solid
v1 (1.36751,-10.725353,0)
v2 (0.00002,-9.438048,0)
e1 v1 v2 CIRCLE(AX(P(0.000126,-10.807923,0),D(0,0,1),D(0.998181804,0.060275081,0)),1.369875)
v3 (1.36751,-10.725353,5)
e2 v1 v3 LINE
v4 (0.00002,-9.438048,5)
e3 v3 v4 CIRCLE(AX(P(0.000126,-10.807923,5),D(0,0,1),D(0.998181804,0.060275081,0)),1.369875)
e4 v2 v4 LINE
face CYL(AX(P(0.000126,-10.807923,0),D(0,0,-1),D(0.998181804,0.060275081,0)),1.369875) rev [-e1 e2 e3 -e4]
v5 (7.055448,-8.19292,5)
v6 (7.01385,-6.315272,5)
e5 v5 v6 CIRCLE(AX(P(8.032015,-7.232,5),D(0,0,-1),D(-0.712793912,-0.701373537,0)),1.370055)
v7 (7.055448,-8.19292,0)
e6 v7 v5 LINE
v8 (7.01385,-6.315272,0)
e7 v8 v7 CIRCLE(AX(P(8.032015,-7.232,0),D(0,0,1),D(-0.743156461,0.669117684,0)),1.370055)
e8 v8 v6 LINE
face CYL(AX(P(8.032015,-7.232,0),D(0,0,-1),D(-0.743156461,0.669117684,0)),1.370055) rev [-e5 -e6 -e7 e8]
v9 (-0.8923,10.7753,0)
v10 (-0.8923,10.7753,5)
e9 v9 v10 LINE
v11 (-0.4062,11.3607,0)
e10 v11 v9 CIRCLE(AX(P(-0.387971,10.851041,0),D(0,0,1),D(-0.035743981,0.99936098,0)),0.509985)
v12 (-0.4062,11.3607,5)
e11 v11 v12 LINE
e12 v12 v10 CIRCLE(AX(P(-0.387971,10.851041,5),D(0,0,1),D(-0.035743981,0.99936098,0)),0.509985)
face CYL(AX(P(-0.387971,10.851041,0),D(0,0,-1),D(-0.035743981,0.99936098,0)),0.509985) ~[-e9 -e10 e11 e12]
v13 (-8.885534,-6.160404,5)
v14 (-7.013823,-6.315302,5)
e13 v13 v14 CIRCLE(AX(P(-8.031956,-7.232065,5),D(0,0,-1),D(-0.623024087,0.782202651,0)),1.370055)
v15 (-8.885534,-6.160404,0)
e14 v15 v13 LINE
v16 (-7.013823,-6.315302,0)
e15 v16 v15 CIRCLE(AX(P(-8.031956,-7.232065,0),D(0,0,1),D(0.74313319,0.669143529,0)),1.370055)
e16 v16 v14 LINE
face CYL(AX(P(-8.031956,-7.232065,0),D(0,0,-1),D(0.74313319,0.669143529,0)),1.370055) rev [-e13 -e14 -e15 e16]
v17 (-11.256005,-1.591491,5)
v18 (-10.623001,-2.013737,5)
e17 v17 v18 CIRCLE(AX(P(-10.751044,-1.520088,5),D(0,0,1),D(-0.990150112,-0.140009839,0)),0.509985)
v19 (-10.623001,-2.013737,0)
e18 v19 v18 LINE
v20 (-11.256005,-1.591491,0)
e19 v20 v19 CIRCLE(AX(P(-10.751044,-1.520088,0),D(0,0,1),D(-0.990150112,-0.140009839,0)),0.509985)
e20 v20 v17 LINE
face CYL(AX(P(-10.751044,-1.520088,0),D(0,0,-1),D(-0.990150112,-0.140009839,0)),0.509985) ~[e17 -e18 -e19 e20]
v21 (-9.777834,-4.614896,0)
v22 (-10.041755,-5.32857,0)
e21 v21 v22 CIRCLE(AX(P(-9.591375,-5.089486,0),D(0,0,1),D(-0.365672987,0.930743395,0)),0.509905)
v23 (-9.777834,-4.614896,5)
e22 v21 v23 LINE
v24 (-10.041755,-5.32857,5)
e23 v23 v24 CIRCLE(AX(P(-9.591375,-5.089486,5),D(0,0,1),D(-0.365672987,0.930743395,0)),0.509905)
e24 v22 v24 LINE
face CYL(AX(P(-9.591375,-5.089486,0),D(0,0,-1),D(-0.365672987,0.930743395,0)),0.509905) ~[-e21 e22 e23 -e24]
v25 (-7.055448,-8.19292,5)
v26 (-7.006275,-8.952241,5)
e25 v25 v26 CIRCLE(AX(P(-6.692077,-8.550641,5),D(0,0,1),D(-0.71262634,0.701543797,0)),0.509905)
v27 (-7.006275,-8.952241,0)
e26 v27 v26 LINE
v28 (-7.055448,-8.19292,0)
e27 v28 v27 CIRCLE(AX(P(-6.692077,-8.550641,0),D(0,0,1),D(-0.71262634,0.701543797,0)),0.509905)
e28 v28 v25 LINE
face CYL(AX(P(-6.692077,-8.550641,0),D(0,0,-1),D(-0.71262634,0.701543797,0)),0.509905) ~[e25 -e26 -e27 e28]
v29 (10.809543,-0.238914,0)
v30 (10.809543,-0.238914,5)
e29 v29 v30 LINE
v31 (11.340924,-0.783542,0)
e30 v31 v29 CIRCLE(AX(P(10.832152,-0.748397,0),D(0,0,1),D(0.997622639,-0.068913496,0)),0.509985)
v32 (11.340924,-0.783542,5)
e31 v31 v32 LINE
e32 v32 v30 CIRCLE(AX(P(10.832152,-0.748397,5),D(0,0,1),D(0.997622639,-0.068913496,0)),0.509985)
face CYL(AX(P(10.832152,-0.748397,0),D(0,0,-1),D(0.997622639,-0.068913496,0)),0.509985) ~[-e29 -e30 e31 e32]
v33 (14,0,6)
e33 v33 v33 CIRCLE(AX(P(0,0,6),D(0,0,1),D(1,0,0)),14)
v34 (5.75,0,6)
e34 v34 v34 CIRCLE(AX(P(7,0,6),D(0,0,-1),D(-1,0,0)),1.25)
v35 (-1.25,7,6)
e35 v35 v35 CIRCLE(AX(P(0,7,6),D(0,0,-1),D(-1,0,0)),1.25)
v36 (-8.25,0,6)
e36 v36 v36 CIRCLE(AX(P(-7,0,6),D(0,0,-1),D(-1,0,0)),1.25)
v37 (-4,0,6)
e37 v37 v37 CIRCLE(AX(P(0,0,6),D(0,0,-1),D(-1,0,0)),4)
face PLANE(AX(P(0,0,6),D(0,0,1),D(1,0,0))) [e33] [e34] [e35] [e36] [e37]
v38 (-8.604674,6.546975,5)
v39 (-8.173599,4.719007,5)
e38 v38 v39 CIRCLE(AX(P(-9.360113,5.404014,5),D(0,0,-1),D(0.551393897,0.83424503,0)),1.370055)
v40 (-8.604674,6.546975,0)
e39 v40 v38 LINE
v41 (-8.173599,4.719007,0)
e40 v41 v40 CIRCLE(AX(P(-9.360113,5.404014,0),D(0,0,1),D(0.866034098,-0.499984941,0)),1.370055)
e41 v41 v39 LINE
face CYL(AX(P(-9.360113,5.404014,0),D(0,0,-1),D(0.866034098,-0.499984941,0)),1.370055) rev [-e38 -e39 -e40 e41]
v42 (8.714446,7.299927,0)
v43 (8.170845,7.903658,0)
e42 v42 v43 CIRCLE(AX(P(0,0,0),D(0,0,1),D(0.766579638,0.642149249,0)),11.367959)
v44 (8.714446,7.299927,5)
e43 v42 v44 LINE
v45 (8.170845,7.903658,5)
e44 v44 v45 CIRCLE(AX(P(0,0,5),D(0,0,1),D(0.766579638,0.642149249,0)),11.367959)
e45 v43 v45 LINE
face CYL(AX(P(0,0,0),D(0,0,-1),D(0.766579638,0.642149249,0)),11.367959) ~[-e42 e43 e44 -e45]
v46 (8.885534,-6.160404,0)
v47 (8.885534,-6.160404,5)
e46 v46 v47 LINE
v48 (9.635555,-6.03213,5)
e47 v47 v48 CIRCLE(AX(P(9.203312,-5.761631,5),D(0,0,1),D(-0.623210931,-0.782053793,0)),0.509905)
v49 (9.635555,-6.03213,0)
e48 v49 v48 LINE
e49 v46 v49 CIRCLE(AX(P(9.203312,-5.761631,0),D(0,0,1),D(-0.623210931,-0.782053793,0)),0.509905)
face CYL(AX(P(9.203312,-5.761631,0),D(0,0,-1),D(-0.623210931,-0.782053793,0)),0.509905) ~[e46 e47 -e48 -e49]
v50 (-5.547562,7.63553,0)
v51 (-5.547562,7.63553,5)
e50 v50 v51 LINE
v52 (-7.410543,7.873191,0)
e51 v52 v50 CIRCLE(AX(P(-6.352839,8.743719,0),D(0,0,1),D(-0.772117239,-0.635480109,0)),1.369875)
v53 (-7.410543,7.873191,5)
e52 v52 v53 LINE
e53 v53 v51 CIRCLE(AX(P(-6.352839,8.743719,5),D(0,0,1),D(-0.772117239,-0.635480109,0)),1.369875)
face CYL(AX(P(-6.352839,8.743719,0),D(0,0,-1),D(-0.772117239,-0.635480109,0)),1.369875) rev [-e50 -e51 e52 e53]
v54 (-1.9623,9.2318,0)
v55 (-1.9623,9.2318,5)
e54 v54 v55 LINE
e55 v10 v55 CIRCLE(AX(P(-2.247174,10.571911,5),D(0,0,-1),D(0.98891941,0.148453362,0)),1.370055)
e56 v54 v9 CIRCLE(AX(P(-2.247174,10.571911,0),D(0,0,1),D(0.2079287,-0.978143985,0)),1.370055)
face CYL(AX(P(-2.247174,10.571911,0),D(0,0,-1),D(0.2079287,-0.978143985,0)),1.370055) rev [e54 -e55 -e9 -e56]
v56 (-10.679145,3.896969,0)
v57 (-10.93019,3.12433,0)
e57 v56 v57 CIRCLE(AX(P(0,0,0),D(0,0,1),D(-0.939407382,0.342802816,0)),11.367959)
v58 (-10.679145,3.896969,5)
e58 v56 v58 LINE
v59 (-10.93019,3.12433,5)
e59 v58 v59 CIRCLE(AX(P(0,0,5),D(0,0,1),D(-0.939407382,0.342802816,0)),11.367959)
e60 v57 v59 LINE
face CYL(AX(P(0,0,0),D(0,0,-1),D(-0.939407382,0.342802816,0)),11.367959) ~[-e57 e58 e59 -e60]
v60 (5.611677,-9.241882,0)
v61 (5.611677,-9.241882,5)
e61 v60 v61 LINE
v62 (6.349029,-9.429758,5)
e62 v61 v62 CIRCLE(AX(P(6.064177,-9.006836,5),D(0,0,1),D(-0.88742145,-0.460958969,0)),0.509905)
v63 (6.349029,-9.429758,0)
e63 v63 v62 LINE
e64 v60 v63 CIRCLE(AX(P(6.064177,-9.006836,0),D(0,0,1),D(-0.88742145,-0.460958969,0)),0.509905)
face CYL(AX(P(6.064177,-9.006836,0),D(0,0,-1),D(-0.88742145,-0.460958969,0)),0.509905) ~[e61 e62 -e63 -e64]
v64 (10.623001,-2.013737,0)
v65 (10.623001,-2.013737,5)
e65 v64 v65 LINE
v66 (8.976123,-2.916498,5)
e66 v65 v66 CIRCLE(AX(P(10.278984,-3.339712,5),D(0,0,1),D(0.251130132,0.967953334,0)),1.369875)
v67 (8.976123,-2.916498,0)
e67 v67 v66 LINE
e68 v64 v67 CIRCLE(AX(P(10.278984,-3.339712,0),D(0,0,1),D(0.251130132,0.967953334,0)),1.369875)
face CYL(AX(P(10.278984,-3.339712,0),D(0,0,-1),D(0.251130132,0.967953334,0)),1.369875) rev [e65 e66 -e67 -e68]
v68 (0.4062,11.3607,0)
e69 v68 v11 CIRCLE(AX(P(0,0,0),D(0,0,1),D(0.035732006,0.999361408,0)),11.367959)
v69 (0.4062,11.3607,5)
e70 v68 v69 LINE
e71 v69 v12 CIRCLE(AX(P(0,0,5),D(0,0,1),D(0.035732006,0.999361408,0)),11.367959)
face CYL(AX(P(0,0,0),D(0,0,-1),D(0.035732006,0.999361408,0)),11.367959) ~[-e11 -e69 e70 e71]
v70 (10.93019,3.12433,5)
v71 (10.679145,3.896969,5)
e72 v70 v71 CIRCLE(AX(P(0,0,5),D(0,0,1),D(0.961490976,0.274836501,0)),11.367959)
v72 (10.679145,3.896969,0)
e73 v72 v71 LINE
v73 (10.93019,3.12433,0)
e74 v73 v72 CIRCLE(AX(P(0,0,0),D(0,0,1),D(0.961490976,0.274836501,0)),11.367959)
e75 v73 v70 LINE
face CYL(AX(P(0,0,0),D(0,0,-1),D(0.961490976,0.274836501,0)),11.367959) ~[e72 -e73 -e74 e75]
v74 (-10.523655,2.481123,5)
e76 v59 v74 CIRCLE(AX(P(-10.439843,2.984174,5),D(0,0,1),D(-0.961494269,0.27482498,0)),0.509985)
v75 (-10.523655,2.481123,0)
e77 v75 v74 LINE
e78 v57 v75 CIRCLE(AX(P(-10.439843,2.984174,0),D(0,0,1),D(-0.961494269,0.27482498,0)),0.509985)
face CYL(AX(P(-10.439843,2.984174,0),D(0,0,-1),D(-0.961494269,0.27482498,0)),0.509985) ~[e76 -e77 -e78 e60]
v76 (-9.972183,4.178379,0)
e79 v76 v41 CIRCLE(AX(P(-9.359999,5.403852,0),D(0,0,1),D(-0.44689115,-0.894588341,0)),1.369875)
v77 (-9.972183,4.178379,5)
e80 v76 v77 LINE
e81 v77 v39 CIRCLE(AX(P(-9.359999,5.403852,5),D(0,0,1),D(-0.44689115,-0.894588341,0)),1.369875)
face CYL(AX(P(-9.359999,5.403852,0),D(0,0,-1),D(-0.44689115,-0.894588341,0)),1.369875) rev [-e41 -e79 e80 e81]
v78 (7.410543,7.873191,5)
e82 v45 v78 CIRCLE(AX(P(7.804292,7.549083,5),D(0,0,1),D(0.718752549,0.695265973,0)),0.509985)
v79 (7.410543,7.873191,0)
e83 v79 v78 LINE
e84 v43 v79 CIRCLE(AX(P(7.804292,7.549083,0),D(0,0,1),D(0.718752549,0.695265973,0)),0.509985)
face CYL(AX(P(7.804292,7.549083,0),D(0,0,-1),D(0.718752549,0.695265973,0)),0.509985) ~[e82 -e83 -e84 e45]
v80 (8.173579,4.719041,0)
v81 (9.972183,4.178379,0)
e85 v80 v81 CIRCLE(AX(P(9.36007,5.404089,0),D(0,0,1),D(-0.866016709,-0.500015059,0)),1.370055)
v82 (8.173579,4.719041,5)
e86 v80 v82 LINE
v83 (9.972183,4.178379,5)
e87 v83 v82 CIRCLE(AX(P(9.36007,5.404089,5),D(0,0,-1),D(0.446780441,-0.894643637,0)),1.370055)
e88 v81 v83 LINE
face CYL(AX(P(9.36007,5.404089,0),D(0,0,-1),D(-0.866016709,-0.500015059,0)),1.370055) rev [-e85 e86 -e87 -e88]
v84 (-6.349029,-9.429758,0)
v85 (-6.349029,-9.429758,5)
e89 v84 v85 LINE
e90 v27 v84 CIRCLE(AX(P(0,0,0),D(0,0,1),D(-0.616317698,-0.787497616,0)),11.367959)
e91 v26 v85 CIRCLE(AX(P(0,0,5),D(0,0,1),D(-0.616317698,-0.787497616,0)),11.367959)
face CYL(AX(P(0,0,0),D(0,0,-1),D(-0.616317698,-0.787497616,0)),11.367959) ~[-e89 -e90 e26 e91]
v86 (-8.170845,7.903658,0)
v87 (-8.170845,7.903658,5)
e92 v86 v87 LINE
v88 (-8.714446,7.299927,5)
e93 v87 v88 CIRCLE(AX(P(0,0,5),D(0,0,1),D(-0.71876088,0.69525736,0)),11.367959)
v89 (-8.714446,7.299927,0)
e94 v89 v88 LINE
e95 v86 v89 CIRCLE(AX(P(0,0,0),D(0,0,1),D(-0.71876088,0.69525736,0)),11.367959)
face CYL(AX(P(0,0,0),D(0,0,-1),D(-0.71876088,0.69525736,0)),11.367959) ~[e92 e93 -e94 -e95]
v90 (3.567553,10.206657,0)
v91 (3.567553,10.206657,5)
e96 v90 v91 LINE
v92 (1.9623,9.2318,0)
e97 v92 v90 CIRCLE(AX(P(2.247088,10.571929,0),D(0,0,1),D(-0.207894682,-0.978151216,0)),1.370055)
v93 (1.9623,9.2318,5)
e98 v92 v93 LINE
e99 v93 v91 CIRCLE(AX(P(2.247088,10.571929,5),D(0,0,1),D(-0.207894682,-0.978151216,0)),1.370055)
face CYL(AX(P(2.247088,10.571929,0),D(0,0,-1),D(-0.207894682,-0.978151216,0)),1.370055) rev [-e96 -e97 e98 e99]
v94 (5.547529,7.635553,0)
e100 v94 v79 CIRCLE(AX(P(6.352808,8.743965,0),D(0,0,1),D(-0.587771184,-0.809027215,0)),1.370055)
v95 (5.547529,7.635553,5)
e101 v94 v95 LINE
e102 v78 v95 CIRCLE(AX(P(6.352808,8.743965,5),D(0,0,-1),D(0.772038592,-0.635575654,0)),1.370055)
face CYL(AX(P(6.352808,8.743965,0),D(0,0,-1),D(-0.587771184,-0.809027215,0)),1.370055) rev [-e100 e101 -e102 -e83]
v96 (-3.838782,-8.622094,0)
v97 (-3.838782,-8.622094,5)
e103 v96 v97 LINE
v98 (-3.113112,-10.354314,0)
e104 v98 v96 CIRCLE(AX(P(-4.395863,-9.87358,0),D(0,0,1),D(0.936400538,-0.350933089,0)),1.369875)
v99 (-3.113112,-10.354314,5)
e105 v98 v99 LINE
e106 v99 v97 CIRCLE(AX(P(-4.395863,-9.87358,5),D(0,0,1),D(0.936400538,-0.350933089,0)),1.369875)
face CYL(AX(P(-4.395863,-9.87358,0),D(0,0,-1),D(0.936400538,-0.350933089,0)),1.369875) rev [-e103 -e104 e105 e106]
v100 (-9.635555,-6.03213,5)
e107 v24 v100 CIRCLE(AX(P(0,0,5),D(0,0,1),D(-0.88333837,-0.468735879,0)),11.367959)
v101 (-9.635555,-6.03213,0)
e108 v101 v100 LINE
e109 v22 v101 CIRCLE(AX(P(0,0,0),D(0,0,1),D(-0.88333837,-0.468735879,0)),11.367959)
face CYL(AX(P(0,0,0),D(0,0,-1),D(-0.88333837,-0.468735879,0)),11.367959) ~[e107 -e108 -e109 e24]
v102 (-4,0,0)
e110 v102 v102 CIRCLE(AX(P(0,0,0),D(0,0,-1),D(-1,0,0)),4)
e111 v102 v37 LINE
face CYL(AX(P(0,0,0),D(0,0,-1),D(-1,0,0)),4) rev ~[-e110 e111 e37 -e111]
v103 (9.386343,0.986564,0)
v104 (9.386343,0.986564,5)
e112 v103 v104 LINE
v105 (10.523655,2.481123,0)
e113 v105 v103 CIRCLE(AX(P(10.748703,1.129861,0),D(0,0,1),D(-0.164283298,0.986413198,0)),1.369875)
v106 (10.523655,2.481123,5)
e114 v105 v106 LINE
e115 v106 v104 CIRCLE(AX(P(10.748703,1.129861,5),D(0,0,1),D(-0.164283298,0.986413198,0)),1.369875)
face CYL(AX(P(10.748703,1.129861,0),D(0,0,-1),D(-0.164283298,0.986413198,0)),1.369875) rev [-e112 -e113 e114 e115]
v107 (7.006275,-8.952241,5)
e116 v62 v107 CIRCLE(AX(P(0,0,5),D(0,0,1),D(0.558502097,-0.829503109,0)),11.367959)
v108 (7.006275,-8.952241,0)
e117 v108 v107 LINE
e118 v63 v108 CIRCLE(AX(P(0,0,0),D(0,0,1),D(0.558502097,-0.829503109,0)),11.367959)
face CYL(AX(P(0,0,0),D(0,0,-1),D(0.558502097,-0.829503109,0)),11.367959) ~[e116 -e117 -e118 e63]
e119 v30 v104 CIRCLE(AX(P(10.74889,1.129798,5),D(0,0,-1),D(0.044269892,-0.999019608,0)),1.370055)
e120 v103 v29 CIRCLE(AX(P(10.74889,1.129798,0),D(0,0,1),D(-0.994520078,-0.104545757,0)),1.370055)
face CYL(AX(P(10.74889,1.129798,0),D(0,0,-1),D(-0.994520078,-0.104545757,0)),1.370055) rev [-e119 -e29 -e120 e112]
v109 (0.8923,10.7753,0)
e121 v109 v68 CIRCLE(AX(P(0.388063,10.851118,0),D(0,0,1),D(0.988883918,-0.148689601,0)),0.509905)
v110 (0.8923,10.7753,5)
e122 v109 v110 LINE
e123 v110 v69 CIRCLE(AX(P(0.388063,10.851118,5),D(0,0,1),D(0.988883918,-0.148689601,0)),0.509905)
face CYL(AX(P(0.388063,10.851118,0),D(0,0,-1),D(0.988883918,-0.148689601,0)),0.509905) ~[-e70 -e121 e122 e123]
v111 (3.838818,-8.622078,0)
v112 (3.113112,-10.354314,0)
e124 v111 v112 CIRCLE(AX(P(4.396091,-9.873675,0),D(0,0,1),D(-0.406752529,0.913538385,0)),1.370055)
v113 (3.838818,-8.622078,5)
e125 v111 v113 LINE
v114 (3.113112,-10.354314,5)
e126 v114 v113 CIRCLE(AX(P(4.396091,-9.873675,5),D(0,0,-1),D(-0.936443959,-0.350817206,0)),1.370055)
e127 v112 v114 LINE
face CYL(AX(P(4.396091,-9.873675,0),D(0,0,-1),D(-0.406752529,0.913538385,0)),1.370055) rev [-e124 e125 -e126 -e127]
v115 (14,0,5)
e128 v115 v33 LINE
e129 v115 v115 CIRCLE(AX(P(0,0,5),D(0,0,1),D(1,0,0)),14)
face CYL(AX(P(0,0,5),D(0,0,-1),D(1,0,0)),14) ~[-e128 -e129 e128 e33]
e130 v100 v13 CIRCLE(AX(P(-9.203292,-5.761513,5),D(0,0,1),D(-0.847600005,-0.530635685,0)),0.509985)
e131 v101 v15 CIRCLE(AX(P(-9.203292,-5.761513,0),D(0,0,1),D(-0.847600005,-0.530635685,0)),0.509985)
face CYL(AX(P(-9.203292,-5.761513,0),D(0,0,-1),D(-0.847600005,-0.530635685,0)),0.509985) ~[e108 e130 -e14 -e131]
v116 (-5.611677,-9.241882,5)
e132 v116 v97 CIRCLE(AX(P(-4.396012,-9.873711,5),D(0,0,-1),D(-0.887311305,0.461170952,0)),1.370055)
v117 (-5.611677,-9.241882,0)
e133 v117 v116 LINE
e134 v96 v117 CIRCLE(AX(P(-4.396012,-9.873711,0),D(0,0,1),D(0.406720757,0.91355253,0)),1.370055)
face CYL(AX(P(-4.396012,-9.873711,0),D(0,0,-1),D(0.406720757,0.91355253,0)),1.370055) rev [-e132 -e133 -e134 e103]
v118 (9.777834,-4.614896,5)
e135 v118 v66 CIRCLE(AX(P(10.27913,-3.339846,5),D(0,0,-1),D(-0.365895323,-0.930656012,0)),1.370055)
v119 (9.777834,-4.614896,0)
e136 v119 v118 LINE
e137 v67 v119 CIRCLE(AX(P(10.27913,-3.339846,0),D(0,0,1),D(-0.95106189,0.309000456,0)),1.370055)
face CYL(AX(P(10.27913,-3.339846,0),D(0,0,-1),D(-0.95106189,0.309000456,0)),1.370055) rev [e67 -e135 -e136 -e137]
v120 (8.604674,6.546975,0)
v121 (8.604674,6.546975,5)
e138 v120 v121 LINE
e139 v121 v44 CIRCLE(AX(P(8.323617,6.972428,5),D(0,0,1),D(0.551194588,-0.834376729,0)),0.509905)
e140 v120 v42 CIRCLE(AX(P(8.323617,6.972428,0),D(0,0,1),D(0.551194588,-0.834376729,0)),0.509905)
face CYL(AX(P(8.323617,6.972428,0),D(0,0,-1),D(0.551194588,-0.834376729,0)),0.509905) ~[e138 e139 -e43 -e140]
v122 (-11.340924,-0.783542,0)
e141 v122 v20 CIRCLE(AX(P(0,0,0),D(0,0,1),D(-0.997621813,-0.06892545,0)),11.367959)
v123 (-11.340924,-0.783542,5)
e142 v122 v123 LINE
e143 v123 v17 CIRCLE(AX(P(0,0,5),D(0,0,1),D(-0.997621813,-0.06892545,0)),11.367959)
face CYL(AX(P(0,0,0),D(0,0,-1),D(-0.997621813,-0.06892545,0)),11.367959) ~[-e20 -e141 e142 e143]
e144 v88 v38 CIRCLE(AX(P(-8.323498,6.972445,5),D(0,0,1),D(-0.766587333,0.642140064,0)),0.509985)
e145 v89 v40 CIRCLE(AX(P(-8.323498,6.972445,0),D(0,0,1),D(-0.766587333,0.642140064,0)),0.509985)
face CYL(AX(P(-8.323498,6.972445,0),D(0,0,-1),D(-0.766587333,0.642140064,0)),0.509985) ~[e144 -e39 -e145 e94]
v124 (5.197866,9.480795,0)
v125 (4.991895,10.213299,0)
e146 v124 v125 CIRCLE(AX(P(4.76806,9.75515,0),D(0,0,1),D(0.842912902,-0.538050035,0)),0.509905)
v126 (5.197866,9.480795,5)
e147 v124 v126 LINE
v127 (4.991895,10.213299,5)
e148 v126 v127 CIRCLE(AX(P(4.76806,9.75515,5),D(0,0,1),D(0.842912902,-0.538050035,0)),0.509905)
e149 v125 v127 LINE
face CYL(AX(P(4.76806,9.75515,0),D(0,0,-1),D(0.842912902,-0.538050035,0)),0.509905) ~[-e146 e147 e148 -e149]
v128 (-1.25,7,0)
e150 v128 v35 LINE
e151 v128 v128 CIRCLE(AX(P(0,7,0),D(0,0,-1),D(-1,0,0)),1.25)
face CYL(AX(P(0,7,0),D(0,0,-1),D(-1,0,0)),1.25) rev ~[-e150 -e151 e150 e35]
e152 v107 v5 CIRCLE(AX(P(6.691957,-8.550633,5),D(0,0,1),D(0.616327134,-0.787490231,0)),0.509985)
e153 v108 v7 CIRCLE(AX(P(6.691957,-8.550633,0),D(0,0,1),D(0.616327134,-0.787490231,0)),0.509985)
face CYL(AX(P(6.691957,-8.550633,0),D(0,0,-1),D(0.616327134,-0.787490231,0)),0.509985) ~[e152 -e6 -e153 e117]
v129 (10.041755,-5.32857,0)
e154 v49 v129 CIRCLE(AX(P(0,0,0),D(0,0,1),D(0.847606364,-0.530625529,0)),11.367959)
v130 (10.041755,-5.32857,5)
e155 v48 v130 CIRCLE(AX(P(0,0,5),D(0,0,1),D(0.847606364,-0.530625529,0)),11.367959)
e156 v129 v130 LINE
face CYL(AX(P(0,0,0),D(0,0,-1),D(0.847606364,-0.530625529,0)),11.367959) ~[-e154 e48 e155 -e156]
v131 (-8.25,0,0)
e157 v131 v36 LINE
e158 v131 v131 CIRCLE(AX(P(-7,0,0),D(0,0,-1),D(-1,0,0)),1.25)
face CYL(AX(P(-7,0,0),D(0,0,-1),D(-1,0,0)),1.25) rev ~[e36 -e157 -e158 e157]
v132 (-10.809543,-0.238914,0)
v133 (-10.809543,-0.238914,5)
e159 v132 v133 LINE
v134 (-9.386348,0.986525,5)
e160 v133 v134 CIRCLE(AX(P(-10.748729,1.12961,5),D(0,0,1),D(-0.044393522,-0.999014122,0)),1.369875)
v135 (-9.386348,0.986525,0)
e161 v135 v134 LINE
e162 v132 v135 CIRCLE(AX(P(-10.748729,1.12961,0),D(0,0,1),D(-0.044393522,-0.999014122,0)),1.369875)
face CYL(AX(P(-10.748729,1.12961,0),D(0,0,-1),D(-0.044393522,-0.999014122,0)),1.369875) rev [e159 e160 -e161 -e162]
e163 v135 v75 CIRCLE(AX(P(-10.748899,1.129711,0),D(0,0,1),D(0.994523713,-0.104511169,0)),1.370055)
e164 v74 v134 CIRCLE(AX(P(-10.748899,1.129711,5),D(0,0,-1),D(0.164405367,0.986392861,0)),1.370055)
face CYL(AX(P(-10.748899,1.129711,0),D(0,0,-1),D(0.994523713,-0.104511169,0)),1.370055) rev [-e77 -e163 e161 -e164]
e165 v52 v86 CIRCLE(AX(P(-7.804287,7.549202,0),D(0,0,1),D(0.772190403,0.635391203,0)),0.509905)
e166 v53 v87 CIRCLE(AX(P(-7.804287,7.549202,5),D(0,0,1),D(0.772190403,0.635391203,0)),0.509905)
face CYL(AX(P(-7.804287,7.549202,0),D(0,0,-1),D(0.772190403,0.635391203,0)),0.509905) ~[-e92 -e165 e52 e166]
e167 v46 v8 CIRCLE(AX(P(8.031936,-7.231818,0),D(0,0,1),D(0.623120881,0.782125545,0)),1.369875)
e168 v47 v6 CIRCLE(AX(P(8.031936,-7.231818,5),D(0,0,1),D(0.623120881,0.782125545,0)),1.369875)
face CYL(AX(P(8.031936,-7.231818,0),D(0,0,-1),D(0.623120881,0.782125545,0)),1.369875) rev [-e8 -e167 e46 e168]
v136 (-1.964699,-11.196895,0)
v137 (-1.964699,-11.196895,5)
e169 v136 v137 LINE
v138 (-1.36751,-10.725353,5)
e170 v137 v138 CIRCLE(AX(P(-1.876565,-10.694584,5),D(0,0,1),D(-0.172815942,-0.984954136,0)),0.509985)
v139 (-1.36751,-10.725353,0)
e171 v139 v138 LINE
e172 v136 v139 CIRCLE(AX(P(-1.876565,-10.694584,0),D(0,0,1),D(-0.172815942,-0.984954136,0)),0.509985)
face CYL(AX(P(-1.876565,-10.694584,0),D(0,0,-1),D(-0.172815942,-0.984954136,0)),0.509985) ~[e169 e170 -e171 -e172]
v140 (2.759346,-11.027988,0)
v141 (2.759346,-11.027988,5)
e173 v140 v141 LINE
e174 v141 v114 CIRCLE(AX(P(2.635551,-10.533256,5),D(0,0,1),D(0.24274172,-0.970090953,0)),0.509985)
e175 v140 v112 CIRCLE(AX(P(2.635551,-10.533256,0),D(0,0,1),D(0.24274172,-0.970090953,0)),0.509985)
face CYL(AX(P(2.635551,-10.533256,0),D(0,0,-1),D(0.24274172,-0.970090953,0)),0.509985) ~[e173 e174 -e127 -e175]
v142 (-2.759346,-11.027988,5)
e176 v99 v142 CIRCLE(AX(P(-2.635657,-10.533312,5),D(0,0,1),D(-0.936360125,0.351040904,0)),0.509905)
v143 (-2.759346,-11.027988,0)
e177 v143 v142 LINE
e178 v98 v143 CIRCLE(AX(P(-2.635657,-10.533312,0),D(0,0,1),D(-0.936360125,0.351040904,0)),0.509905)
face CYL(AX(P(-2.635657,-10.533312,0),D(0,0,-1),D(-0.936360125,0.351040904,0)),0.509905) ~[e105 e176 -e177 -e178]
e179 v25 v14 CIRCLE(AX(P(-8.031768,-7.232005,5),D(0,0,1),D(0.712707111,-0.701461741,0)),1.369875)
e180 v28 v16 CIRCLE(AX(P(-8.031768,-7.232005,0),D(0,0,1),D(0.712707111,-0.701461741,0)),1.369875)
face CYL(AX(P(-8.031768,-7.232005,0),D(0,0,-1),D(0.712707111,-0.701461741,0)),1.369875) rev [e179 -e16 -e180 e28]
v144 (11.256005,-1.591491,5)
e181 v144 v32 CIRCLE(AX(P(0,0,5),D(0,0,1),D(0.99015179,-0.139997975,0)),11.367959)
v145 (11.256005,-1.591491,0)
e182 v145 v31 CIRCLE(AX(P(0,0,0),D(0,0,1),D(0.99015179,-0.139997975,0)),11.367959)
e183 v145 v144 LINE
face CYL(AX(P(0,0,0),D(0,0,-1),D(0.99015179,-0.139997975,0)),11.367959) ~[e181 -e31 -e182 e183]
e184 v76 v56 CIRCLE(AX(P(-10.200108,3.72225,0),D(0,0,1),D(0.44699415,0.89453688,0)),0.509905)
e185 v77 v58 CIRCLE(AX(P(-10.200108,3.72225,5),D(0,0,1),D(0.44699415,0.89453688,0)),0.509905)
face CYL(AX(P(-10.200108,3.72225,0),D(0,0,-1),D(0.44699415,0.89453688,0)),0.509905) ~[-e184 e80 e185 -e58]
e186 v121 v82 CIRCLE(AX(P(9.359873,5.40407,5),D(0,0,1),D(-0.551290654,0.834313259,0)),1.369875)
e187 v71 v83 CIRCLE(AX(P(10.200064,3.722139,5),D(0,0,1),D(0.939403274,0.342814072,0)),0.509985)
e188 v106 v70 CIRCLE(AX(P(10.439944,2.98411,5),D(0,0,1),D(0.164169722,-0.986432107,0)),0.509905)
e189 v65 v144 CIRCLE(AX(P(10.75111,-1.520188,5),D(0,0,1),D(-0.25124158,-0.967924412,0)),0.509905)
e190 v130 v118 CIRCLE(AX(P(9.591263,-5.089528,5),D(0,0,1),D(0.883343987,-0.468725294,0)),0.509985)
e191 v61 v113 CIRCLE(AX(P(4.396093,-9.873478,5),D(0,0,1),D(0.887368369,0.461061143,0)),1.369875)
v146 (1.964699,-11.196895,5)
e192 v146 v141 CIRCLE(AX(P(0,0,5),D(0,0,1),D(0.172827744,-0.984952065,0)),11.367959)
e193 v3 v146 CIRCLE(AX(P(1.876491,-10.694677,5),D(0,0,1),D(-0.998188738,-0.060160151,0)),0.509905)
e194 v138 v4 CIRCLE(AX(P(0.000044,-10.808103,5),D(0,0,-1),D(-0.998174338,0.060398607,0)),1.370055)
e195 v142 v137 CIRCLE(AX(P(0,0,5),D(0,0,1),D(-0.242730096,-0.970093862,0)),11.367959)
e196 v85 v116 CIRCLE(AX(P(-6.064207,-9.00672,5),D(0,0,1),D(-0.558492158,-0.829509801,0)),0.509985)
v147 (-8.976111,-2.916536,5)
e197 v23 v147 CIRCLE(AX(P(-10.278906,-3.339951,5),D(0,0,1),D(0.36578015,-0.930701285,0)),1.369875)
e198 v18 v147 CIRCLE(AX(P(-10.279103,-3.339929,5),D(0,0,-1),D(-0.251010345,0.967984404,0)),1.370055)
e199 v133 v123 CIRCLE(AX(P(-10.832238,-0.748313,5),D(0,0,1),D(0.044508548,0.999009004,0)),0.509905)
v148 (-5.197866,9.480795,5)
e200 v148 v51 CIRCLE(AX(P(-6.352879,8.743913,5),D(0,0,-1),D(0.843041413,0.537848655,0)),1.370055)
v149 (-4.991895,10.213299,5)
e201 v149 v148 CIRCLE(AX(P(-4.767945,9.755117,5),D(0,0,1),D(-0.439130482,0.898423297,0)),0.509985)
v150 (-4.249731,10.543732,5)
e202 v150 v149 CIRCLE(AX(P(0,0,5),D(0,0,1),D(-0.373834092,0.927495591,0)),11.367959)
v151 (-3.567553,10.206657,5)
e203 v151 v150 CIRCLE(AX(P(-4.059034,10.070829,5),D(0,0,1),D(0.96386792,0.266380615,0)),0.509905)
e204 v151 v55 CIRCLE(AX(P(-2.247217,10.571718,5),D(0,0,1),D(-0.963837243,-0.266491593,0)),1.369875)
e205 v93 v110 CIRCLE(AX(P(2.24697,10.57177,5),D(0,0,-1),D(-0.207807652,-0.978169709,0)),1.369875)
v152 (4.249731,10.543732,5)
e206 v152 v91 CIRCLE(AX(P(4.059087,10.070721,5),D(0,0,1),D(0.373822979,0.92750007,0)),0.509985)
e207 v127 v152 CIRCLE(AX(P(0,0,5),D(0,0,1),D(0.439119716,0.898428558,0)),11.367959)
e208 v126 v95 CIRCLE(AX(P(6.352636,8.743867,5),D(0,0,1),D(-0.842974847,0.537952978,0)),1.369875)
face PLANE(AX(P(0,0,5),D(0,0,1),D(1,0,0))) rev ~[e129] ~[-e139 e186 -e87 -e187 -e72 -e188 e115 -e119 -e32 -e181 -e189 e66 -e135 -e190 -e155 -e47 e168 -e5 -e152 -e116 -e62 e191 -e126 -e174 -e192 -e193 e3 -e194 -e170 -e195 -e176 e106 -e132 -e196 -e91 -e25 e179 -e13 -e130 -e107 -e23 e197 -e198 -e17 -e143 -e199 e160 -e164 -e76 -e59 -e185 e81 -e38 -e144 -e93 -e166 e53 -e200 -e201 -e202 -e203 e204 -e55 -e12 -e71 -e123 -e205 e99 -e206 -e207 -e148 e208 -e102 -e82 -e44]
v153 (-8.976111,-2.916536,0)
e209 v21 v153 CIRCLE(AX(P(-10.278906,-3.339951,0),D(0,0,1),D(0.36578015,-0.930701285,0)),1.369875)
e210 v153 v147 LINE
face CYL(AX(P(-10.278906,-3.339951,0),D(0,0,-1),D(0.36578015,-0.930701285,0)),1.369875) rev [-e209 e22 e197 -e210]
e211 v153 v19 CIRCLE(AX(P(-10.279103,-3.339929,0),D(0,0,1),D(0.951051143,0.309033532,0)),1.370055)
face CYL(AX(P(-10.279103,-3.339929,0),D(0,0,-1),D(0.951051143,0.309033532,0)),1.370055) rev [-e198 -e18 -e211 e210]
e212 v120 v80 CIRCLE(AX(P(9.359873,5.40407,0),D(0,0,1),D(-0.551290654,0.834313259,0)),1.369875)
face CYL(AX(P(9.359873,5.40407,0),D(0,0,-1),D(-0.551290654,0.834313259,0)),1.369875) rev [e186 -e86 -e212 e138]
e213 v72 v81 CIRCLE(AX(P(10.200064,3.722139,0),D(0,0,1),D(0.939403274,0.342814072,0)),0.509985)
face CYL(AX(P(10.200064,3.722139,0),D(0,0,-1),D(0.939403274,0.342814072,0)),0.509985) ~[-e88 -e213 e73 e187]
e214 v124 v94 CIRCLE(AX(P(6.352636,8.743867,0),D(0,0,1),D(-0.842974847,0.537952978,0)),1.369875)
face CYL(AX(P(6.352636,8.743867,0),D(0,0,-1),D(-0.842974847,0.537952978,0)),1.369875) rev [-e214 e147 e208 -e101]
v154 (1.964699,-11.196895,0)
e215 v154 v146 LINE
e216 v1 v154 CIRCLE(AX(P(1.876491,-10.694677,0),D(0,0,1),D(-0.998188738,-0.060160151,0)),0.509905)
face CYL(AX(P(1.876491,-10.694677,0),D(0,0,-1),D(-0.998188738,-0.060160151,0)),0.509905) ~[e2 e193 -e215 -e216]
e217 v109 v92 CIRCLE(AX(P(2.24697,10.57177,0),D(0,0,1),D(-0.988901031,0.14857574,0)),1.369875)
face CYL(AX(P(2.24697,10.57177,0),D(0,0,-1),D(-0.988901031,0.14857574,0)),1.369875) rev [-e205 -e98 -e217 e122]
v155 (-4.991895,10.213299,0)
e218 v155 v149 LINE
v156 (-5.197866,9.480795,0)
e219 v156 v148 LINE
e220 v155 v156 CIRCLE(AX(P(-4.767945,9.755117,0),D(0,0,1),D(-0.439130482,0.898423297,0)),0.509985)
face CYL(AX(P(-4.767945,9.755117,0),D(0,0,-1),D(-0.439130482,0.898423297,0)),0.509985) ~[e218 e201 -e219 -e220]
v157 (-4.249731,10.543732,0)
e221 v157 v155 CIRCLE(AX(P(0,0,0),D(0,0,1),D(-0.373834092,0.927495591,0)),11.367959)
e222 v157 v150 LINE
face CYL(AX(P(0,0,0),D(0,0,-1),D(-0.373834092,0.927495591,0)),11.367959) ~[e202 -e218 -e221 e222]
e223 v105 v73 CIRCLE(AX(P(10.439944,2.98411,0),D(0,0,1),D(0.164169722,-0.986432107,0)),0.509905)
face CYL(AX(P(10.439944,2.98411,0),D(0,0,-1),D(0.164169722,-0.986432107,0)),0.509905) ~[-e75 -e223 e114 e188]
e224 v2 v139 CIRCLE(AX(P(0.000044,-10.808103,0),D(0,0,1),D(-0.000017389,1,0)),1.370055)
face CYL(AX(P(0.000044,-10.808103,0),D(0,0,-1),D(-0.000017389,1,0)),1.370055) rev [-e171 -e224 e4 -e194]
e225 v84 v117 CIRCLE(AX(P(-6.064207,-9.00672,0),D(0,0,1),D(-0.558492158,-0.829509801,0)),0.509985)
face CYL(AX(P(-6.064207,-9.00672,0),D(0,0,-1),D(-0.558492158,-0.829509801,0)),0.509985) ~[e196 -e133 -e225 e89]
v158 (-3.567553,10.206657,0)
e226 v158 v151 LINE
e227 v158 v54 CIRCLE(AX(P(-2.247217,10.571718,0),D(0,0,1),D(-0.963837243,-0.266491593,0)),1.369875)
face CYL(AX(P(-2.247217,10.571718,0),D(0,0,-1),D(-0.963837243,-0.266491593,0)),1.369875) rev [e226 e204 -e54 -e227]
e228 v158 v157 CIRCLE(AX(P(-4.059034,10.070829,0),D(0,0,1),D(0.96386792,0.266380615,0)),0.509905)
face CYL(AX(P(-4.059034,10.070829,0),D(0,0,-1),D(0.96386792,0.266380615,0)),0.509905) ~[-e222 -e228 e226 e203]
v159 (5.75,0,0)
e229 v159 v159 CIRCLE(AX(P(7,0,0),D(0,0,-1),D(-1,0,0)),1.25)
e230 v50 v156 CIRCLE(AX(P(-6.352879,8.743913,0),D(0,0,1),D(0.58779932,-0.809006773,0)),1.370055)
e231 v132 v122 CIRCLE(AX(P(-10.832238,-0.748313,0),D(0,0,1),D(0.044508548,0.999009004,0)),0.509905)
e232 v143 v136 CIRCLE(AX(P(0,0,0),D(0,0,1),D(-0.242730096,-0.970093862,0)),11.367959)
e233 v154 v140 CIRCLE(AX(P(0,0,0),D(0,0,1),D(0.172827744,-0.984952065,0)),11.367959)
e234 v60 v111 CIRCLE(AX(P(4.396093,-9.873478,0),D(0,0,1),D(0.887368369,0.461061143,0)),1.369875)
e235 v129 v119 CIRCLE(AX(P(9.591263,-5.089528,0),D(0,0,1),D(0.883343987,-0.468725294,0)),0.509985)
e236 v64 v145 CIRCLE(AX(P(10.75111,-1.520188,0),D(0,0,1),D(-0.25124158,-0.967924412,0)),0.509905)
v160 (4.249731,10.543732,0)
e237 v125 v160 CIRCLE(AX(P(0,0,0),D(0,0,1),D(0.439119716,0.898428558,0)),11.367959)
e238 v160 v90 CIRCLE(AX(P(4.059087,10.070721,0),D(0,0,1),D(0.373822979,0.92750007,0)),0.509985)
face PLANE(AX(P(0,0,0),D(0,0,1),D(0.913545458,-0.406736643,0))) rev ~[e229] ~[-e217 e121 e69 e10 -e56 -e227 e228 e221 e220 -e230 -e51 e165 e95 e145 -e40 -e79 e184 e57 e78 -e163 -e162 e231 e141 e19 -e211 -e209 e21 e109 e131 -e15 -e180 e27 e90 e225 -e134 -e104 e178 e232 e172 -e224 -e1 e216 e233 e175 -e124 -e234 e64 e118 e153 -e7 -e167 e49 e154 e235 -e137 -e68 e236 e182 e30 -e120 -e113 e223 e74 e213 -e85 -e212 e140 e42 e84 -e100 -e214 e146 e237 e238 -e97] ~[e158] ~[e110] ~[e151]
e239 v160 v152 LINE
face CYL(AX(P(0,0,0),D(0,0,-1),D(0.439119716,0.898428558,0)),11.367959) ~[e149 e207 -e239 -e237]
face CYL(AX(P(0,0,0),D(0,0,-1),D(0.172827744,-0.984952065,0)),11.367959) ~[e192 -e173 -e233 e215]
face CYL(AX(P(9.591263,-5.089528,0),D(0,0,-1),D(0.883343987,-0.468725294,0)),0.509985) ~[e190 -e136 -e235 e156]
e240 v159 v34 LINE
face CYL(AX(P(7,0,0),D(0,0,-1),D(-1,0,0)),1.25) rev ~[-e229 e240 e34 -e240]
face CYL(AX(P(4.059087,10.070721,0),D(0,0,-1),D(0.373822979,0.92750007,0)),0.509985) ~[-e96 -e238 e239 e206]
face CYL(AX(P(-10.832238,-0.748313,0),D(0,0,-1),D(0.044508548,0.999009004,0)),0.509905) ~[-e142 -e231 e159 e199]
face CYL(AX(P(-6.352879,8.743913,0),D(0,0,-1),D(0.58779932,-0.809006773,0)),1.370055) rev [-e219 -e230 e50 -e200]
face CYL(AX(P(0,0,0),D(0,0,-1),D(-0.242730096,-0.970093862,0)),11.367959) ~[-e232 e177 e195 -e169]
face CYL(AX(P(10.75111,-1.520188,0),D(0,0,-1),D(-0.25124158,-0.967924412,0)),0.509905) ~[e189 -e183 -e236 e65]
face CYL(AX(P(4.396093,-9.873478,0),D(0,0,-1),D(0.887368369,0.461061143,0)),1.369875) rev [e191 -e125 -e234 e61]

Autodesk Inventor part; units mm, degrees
ref_plane "YZ Plane" through (0, 0, 0) normal (1, 0, 0) x (0, 1, 0)
ref_plane "XZ Plane" through (0, 0, 0) normal (0, 1, 0) x (-1, 0, 0)
ref_plane "XY Plane" through (0, 0, 0) normal (0, 0, 1) x (1, 0, 0)
sketch "スケッチ1" plane through (0, 0, 0) normal (0, 0, 1) x (1, 0, 0)
  arc A0 (0.7632, 11.9121) -> (-1.0179, 11.893) centre (0, 0) ccw construction
  arc A1 (0.4062, 11.3607) -> (-0.4062, 11.3607) centre (0, 0) ccw
  arc A2 (9.3048, 1.5803) -> (-9.0567, 2.6555) centre (0, 0) ccw construction
  arc A3 (0.8923, 10.7753) -> (1.9623, 9.2318) centre (2.2471, 10.5718) ccw
  line L0 (1.9623, 9.2318) -> (0, 0)
  arc A4 (-1.9623, 9.2318) -> (-0.8923, 10.7753) centre (-2.2471, 10.5718) ccw
  line L1 (-1.9623, 9.2318) -> (0, 0)
  arc A5 (-0.4062, 11.3607) -> (-0.8923, 10.7753) centre (-0.388, 10.8511) ccw
  arc A6 (0.8923, 10.7753) -> (0.4062, 11.3607) centre (0.388, 10.8511) ccw
  line L2 (0, 0) -> (0, 2.9942) construction
  dimension "d0" = 11.9365
  dimension "d1" = 11.368
  dimension "d2" = 1.93
  dimension "d3" = 0.51
  dimension "d4" = 1.37
  dimension "d5" = 1.37
  dimension "d6" = 24
  dimension "d7" = 12
extrude "押し出し1" add sketch "スケッチ1" along normal blind 5
pattern_circular "円形状パターン1" count 15 over 360 about axis through (0, 0, 0) along (0, 0, 1) of "押し出し1"
sketch "スケッチ2" plane through (0, 0, 5) normal (0, 0, 1) x (1, 0, 0)
  circle A0 centre (0, 0) radius 14
  dimension "d13" = 28
extrude "押し出し2" add sketch "スケッチ2" along normal blind 1
sketch "スケッチ3" plane through (0, 0, 0) normal (0, 0, -1) x (-1, 0, 0)
  circle A0 centre (0, 0) radius 4
  circle A1 centre (0, 7) radius 1.25
  circle A2 centre (-7, 0) radius 1.25
  circle A3 centre (7, 0) radius 1.25
  dimension "d16" = 8
  dimension "d18" = 2.5
  dimension "d19" = 7
  dimension "d20" = 2.5
  dimension "d21" = 2.5
  dimension "d22" = 7
  dimension "d23" = 7
extrude "押し出し3" cut sketch "スケッチ3" against normal through all
properties part number "プーリ_歯数15_2.5mm" material "アセタール樹脂、白"
